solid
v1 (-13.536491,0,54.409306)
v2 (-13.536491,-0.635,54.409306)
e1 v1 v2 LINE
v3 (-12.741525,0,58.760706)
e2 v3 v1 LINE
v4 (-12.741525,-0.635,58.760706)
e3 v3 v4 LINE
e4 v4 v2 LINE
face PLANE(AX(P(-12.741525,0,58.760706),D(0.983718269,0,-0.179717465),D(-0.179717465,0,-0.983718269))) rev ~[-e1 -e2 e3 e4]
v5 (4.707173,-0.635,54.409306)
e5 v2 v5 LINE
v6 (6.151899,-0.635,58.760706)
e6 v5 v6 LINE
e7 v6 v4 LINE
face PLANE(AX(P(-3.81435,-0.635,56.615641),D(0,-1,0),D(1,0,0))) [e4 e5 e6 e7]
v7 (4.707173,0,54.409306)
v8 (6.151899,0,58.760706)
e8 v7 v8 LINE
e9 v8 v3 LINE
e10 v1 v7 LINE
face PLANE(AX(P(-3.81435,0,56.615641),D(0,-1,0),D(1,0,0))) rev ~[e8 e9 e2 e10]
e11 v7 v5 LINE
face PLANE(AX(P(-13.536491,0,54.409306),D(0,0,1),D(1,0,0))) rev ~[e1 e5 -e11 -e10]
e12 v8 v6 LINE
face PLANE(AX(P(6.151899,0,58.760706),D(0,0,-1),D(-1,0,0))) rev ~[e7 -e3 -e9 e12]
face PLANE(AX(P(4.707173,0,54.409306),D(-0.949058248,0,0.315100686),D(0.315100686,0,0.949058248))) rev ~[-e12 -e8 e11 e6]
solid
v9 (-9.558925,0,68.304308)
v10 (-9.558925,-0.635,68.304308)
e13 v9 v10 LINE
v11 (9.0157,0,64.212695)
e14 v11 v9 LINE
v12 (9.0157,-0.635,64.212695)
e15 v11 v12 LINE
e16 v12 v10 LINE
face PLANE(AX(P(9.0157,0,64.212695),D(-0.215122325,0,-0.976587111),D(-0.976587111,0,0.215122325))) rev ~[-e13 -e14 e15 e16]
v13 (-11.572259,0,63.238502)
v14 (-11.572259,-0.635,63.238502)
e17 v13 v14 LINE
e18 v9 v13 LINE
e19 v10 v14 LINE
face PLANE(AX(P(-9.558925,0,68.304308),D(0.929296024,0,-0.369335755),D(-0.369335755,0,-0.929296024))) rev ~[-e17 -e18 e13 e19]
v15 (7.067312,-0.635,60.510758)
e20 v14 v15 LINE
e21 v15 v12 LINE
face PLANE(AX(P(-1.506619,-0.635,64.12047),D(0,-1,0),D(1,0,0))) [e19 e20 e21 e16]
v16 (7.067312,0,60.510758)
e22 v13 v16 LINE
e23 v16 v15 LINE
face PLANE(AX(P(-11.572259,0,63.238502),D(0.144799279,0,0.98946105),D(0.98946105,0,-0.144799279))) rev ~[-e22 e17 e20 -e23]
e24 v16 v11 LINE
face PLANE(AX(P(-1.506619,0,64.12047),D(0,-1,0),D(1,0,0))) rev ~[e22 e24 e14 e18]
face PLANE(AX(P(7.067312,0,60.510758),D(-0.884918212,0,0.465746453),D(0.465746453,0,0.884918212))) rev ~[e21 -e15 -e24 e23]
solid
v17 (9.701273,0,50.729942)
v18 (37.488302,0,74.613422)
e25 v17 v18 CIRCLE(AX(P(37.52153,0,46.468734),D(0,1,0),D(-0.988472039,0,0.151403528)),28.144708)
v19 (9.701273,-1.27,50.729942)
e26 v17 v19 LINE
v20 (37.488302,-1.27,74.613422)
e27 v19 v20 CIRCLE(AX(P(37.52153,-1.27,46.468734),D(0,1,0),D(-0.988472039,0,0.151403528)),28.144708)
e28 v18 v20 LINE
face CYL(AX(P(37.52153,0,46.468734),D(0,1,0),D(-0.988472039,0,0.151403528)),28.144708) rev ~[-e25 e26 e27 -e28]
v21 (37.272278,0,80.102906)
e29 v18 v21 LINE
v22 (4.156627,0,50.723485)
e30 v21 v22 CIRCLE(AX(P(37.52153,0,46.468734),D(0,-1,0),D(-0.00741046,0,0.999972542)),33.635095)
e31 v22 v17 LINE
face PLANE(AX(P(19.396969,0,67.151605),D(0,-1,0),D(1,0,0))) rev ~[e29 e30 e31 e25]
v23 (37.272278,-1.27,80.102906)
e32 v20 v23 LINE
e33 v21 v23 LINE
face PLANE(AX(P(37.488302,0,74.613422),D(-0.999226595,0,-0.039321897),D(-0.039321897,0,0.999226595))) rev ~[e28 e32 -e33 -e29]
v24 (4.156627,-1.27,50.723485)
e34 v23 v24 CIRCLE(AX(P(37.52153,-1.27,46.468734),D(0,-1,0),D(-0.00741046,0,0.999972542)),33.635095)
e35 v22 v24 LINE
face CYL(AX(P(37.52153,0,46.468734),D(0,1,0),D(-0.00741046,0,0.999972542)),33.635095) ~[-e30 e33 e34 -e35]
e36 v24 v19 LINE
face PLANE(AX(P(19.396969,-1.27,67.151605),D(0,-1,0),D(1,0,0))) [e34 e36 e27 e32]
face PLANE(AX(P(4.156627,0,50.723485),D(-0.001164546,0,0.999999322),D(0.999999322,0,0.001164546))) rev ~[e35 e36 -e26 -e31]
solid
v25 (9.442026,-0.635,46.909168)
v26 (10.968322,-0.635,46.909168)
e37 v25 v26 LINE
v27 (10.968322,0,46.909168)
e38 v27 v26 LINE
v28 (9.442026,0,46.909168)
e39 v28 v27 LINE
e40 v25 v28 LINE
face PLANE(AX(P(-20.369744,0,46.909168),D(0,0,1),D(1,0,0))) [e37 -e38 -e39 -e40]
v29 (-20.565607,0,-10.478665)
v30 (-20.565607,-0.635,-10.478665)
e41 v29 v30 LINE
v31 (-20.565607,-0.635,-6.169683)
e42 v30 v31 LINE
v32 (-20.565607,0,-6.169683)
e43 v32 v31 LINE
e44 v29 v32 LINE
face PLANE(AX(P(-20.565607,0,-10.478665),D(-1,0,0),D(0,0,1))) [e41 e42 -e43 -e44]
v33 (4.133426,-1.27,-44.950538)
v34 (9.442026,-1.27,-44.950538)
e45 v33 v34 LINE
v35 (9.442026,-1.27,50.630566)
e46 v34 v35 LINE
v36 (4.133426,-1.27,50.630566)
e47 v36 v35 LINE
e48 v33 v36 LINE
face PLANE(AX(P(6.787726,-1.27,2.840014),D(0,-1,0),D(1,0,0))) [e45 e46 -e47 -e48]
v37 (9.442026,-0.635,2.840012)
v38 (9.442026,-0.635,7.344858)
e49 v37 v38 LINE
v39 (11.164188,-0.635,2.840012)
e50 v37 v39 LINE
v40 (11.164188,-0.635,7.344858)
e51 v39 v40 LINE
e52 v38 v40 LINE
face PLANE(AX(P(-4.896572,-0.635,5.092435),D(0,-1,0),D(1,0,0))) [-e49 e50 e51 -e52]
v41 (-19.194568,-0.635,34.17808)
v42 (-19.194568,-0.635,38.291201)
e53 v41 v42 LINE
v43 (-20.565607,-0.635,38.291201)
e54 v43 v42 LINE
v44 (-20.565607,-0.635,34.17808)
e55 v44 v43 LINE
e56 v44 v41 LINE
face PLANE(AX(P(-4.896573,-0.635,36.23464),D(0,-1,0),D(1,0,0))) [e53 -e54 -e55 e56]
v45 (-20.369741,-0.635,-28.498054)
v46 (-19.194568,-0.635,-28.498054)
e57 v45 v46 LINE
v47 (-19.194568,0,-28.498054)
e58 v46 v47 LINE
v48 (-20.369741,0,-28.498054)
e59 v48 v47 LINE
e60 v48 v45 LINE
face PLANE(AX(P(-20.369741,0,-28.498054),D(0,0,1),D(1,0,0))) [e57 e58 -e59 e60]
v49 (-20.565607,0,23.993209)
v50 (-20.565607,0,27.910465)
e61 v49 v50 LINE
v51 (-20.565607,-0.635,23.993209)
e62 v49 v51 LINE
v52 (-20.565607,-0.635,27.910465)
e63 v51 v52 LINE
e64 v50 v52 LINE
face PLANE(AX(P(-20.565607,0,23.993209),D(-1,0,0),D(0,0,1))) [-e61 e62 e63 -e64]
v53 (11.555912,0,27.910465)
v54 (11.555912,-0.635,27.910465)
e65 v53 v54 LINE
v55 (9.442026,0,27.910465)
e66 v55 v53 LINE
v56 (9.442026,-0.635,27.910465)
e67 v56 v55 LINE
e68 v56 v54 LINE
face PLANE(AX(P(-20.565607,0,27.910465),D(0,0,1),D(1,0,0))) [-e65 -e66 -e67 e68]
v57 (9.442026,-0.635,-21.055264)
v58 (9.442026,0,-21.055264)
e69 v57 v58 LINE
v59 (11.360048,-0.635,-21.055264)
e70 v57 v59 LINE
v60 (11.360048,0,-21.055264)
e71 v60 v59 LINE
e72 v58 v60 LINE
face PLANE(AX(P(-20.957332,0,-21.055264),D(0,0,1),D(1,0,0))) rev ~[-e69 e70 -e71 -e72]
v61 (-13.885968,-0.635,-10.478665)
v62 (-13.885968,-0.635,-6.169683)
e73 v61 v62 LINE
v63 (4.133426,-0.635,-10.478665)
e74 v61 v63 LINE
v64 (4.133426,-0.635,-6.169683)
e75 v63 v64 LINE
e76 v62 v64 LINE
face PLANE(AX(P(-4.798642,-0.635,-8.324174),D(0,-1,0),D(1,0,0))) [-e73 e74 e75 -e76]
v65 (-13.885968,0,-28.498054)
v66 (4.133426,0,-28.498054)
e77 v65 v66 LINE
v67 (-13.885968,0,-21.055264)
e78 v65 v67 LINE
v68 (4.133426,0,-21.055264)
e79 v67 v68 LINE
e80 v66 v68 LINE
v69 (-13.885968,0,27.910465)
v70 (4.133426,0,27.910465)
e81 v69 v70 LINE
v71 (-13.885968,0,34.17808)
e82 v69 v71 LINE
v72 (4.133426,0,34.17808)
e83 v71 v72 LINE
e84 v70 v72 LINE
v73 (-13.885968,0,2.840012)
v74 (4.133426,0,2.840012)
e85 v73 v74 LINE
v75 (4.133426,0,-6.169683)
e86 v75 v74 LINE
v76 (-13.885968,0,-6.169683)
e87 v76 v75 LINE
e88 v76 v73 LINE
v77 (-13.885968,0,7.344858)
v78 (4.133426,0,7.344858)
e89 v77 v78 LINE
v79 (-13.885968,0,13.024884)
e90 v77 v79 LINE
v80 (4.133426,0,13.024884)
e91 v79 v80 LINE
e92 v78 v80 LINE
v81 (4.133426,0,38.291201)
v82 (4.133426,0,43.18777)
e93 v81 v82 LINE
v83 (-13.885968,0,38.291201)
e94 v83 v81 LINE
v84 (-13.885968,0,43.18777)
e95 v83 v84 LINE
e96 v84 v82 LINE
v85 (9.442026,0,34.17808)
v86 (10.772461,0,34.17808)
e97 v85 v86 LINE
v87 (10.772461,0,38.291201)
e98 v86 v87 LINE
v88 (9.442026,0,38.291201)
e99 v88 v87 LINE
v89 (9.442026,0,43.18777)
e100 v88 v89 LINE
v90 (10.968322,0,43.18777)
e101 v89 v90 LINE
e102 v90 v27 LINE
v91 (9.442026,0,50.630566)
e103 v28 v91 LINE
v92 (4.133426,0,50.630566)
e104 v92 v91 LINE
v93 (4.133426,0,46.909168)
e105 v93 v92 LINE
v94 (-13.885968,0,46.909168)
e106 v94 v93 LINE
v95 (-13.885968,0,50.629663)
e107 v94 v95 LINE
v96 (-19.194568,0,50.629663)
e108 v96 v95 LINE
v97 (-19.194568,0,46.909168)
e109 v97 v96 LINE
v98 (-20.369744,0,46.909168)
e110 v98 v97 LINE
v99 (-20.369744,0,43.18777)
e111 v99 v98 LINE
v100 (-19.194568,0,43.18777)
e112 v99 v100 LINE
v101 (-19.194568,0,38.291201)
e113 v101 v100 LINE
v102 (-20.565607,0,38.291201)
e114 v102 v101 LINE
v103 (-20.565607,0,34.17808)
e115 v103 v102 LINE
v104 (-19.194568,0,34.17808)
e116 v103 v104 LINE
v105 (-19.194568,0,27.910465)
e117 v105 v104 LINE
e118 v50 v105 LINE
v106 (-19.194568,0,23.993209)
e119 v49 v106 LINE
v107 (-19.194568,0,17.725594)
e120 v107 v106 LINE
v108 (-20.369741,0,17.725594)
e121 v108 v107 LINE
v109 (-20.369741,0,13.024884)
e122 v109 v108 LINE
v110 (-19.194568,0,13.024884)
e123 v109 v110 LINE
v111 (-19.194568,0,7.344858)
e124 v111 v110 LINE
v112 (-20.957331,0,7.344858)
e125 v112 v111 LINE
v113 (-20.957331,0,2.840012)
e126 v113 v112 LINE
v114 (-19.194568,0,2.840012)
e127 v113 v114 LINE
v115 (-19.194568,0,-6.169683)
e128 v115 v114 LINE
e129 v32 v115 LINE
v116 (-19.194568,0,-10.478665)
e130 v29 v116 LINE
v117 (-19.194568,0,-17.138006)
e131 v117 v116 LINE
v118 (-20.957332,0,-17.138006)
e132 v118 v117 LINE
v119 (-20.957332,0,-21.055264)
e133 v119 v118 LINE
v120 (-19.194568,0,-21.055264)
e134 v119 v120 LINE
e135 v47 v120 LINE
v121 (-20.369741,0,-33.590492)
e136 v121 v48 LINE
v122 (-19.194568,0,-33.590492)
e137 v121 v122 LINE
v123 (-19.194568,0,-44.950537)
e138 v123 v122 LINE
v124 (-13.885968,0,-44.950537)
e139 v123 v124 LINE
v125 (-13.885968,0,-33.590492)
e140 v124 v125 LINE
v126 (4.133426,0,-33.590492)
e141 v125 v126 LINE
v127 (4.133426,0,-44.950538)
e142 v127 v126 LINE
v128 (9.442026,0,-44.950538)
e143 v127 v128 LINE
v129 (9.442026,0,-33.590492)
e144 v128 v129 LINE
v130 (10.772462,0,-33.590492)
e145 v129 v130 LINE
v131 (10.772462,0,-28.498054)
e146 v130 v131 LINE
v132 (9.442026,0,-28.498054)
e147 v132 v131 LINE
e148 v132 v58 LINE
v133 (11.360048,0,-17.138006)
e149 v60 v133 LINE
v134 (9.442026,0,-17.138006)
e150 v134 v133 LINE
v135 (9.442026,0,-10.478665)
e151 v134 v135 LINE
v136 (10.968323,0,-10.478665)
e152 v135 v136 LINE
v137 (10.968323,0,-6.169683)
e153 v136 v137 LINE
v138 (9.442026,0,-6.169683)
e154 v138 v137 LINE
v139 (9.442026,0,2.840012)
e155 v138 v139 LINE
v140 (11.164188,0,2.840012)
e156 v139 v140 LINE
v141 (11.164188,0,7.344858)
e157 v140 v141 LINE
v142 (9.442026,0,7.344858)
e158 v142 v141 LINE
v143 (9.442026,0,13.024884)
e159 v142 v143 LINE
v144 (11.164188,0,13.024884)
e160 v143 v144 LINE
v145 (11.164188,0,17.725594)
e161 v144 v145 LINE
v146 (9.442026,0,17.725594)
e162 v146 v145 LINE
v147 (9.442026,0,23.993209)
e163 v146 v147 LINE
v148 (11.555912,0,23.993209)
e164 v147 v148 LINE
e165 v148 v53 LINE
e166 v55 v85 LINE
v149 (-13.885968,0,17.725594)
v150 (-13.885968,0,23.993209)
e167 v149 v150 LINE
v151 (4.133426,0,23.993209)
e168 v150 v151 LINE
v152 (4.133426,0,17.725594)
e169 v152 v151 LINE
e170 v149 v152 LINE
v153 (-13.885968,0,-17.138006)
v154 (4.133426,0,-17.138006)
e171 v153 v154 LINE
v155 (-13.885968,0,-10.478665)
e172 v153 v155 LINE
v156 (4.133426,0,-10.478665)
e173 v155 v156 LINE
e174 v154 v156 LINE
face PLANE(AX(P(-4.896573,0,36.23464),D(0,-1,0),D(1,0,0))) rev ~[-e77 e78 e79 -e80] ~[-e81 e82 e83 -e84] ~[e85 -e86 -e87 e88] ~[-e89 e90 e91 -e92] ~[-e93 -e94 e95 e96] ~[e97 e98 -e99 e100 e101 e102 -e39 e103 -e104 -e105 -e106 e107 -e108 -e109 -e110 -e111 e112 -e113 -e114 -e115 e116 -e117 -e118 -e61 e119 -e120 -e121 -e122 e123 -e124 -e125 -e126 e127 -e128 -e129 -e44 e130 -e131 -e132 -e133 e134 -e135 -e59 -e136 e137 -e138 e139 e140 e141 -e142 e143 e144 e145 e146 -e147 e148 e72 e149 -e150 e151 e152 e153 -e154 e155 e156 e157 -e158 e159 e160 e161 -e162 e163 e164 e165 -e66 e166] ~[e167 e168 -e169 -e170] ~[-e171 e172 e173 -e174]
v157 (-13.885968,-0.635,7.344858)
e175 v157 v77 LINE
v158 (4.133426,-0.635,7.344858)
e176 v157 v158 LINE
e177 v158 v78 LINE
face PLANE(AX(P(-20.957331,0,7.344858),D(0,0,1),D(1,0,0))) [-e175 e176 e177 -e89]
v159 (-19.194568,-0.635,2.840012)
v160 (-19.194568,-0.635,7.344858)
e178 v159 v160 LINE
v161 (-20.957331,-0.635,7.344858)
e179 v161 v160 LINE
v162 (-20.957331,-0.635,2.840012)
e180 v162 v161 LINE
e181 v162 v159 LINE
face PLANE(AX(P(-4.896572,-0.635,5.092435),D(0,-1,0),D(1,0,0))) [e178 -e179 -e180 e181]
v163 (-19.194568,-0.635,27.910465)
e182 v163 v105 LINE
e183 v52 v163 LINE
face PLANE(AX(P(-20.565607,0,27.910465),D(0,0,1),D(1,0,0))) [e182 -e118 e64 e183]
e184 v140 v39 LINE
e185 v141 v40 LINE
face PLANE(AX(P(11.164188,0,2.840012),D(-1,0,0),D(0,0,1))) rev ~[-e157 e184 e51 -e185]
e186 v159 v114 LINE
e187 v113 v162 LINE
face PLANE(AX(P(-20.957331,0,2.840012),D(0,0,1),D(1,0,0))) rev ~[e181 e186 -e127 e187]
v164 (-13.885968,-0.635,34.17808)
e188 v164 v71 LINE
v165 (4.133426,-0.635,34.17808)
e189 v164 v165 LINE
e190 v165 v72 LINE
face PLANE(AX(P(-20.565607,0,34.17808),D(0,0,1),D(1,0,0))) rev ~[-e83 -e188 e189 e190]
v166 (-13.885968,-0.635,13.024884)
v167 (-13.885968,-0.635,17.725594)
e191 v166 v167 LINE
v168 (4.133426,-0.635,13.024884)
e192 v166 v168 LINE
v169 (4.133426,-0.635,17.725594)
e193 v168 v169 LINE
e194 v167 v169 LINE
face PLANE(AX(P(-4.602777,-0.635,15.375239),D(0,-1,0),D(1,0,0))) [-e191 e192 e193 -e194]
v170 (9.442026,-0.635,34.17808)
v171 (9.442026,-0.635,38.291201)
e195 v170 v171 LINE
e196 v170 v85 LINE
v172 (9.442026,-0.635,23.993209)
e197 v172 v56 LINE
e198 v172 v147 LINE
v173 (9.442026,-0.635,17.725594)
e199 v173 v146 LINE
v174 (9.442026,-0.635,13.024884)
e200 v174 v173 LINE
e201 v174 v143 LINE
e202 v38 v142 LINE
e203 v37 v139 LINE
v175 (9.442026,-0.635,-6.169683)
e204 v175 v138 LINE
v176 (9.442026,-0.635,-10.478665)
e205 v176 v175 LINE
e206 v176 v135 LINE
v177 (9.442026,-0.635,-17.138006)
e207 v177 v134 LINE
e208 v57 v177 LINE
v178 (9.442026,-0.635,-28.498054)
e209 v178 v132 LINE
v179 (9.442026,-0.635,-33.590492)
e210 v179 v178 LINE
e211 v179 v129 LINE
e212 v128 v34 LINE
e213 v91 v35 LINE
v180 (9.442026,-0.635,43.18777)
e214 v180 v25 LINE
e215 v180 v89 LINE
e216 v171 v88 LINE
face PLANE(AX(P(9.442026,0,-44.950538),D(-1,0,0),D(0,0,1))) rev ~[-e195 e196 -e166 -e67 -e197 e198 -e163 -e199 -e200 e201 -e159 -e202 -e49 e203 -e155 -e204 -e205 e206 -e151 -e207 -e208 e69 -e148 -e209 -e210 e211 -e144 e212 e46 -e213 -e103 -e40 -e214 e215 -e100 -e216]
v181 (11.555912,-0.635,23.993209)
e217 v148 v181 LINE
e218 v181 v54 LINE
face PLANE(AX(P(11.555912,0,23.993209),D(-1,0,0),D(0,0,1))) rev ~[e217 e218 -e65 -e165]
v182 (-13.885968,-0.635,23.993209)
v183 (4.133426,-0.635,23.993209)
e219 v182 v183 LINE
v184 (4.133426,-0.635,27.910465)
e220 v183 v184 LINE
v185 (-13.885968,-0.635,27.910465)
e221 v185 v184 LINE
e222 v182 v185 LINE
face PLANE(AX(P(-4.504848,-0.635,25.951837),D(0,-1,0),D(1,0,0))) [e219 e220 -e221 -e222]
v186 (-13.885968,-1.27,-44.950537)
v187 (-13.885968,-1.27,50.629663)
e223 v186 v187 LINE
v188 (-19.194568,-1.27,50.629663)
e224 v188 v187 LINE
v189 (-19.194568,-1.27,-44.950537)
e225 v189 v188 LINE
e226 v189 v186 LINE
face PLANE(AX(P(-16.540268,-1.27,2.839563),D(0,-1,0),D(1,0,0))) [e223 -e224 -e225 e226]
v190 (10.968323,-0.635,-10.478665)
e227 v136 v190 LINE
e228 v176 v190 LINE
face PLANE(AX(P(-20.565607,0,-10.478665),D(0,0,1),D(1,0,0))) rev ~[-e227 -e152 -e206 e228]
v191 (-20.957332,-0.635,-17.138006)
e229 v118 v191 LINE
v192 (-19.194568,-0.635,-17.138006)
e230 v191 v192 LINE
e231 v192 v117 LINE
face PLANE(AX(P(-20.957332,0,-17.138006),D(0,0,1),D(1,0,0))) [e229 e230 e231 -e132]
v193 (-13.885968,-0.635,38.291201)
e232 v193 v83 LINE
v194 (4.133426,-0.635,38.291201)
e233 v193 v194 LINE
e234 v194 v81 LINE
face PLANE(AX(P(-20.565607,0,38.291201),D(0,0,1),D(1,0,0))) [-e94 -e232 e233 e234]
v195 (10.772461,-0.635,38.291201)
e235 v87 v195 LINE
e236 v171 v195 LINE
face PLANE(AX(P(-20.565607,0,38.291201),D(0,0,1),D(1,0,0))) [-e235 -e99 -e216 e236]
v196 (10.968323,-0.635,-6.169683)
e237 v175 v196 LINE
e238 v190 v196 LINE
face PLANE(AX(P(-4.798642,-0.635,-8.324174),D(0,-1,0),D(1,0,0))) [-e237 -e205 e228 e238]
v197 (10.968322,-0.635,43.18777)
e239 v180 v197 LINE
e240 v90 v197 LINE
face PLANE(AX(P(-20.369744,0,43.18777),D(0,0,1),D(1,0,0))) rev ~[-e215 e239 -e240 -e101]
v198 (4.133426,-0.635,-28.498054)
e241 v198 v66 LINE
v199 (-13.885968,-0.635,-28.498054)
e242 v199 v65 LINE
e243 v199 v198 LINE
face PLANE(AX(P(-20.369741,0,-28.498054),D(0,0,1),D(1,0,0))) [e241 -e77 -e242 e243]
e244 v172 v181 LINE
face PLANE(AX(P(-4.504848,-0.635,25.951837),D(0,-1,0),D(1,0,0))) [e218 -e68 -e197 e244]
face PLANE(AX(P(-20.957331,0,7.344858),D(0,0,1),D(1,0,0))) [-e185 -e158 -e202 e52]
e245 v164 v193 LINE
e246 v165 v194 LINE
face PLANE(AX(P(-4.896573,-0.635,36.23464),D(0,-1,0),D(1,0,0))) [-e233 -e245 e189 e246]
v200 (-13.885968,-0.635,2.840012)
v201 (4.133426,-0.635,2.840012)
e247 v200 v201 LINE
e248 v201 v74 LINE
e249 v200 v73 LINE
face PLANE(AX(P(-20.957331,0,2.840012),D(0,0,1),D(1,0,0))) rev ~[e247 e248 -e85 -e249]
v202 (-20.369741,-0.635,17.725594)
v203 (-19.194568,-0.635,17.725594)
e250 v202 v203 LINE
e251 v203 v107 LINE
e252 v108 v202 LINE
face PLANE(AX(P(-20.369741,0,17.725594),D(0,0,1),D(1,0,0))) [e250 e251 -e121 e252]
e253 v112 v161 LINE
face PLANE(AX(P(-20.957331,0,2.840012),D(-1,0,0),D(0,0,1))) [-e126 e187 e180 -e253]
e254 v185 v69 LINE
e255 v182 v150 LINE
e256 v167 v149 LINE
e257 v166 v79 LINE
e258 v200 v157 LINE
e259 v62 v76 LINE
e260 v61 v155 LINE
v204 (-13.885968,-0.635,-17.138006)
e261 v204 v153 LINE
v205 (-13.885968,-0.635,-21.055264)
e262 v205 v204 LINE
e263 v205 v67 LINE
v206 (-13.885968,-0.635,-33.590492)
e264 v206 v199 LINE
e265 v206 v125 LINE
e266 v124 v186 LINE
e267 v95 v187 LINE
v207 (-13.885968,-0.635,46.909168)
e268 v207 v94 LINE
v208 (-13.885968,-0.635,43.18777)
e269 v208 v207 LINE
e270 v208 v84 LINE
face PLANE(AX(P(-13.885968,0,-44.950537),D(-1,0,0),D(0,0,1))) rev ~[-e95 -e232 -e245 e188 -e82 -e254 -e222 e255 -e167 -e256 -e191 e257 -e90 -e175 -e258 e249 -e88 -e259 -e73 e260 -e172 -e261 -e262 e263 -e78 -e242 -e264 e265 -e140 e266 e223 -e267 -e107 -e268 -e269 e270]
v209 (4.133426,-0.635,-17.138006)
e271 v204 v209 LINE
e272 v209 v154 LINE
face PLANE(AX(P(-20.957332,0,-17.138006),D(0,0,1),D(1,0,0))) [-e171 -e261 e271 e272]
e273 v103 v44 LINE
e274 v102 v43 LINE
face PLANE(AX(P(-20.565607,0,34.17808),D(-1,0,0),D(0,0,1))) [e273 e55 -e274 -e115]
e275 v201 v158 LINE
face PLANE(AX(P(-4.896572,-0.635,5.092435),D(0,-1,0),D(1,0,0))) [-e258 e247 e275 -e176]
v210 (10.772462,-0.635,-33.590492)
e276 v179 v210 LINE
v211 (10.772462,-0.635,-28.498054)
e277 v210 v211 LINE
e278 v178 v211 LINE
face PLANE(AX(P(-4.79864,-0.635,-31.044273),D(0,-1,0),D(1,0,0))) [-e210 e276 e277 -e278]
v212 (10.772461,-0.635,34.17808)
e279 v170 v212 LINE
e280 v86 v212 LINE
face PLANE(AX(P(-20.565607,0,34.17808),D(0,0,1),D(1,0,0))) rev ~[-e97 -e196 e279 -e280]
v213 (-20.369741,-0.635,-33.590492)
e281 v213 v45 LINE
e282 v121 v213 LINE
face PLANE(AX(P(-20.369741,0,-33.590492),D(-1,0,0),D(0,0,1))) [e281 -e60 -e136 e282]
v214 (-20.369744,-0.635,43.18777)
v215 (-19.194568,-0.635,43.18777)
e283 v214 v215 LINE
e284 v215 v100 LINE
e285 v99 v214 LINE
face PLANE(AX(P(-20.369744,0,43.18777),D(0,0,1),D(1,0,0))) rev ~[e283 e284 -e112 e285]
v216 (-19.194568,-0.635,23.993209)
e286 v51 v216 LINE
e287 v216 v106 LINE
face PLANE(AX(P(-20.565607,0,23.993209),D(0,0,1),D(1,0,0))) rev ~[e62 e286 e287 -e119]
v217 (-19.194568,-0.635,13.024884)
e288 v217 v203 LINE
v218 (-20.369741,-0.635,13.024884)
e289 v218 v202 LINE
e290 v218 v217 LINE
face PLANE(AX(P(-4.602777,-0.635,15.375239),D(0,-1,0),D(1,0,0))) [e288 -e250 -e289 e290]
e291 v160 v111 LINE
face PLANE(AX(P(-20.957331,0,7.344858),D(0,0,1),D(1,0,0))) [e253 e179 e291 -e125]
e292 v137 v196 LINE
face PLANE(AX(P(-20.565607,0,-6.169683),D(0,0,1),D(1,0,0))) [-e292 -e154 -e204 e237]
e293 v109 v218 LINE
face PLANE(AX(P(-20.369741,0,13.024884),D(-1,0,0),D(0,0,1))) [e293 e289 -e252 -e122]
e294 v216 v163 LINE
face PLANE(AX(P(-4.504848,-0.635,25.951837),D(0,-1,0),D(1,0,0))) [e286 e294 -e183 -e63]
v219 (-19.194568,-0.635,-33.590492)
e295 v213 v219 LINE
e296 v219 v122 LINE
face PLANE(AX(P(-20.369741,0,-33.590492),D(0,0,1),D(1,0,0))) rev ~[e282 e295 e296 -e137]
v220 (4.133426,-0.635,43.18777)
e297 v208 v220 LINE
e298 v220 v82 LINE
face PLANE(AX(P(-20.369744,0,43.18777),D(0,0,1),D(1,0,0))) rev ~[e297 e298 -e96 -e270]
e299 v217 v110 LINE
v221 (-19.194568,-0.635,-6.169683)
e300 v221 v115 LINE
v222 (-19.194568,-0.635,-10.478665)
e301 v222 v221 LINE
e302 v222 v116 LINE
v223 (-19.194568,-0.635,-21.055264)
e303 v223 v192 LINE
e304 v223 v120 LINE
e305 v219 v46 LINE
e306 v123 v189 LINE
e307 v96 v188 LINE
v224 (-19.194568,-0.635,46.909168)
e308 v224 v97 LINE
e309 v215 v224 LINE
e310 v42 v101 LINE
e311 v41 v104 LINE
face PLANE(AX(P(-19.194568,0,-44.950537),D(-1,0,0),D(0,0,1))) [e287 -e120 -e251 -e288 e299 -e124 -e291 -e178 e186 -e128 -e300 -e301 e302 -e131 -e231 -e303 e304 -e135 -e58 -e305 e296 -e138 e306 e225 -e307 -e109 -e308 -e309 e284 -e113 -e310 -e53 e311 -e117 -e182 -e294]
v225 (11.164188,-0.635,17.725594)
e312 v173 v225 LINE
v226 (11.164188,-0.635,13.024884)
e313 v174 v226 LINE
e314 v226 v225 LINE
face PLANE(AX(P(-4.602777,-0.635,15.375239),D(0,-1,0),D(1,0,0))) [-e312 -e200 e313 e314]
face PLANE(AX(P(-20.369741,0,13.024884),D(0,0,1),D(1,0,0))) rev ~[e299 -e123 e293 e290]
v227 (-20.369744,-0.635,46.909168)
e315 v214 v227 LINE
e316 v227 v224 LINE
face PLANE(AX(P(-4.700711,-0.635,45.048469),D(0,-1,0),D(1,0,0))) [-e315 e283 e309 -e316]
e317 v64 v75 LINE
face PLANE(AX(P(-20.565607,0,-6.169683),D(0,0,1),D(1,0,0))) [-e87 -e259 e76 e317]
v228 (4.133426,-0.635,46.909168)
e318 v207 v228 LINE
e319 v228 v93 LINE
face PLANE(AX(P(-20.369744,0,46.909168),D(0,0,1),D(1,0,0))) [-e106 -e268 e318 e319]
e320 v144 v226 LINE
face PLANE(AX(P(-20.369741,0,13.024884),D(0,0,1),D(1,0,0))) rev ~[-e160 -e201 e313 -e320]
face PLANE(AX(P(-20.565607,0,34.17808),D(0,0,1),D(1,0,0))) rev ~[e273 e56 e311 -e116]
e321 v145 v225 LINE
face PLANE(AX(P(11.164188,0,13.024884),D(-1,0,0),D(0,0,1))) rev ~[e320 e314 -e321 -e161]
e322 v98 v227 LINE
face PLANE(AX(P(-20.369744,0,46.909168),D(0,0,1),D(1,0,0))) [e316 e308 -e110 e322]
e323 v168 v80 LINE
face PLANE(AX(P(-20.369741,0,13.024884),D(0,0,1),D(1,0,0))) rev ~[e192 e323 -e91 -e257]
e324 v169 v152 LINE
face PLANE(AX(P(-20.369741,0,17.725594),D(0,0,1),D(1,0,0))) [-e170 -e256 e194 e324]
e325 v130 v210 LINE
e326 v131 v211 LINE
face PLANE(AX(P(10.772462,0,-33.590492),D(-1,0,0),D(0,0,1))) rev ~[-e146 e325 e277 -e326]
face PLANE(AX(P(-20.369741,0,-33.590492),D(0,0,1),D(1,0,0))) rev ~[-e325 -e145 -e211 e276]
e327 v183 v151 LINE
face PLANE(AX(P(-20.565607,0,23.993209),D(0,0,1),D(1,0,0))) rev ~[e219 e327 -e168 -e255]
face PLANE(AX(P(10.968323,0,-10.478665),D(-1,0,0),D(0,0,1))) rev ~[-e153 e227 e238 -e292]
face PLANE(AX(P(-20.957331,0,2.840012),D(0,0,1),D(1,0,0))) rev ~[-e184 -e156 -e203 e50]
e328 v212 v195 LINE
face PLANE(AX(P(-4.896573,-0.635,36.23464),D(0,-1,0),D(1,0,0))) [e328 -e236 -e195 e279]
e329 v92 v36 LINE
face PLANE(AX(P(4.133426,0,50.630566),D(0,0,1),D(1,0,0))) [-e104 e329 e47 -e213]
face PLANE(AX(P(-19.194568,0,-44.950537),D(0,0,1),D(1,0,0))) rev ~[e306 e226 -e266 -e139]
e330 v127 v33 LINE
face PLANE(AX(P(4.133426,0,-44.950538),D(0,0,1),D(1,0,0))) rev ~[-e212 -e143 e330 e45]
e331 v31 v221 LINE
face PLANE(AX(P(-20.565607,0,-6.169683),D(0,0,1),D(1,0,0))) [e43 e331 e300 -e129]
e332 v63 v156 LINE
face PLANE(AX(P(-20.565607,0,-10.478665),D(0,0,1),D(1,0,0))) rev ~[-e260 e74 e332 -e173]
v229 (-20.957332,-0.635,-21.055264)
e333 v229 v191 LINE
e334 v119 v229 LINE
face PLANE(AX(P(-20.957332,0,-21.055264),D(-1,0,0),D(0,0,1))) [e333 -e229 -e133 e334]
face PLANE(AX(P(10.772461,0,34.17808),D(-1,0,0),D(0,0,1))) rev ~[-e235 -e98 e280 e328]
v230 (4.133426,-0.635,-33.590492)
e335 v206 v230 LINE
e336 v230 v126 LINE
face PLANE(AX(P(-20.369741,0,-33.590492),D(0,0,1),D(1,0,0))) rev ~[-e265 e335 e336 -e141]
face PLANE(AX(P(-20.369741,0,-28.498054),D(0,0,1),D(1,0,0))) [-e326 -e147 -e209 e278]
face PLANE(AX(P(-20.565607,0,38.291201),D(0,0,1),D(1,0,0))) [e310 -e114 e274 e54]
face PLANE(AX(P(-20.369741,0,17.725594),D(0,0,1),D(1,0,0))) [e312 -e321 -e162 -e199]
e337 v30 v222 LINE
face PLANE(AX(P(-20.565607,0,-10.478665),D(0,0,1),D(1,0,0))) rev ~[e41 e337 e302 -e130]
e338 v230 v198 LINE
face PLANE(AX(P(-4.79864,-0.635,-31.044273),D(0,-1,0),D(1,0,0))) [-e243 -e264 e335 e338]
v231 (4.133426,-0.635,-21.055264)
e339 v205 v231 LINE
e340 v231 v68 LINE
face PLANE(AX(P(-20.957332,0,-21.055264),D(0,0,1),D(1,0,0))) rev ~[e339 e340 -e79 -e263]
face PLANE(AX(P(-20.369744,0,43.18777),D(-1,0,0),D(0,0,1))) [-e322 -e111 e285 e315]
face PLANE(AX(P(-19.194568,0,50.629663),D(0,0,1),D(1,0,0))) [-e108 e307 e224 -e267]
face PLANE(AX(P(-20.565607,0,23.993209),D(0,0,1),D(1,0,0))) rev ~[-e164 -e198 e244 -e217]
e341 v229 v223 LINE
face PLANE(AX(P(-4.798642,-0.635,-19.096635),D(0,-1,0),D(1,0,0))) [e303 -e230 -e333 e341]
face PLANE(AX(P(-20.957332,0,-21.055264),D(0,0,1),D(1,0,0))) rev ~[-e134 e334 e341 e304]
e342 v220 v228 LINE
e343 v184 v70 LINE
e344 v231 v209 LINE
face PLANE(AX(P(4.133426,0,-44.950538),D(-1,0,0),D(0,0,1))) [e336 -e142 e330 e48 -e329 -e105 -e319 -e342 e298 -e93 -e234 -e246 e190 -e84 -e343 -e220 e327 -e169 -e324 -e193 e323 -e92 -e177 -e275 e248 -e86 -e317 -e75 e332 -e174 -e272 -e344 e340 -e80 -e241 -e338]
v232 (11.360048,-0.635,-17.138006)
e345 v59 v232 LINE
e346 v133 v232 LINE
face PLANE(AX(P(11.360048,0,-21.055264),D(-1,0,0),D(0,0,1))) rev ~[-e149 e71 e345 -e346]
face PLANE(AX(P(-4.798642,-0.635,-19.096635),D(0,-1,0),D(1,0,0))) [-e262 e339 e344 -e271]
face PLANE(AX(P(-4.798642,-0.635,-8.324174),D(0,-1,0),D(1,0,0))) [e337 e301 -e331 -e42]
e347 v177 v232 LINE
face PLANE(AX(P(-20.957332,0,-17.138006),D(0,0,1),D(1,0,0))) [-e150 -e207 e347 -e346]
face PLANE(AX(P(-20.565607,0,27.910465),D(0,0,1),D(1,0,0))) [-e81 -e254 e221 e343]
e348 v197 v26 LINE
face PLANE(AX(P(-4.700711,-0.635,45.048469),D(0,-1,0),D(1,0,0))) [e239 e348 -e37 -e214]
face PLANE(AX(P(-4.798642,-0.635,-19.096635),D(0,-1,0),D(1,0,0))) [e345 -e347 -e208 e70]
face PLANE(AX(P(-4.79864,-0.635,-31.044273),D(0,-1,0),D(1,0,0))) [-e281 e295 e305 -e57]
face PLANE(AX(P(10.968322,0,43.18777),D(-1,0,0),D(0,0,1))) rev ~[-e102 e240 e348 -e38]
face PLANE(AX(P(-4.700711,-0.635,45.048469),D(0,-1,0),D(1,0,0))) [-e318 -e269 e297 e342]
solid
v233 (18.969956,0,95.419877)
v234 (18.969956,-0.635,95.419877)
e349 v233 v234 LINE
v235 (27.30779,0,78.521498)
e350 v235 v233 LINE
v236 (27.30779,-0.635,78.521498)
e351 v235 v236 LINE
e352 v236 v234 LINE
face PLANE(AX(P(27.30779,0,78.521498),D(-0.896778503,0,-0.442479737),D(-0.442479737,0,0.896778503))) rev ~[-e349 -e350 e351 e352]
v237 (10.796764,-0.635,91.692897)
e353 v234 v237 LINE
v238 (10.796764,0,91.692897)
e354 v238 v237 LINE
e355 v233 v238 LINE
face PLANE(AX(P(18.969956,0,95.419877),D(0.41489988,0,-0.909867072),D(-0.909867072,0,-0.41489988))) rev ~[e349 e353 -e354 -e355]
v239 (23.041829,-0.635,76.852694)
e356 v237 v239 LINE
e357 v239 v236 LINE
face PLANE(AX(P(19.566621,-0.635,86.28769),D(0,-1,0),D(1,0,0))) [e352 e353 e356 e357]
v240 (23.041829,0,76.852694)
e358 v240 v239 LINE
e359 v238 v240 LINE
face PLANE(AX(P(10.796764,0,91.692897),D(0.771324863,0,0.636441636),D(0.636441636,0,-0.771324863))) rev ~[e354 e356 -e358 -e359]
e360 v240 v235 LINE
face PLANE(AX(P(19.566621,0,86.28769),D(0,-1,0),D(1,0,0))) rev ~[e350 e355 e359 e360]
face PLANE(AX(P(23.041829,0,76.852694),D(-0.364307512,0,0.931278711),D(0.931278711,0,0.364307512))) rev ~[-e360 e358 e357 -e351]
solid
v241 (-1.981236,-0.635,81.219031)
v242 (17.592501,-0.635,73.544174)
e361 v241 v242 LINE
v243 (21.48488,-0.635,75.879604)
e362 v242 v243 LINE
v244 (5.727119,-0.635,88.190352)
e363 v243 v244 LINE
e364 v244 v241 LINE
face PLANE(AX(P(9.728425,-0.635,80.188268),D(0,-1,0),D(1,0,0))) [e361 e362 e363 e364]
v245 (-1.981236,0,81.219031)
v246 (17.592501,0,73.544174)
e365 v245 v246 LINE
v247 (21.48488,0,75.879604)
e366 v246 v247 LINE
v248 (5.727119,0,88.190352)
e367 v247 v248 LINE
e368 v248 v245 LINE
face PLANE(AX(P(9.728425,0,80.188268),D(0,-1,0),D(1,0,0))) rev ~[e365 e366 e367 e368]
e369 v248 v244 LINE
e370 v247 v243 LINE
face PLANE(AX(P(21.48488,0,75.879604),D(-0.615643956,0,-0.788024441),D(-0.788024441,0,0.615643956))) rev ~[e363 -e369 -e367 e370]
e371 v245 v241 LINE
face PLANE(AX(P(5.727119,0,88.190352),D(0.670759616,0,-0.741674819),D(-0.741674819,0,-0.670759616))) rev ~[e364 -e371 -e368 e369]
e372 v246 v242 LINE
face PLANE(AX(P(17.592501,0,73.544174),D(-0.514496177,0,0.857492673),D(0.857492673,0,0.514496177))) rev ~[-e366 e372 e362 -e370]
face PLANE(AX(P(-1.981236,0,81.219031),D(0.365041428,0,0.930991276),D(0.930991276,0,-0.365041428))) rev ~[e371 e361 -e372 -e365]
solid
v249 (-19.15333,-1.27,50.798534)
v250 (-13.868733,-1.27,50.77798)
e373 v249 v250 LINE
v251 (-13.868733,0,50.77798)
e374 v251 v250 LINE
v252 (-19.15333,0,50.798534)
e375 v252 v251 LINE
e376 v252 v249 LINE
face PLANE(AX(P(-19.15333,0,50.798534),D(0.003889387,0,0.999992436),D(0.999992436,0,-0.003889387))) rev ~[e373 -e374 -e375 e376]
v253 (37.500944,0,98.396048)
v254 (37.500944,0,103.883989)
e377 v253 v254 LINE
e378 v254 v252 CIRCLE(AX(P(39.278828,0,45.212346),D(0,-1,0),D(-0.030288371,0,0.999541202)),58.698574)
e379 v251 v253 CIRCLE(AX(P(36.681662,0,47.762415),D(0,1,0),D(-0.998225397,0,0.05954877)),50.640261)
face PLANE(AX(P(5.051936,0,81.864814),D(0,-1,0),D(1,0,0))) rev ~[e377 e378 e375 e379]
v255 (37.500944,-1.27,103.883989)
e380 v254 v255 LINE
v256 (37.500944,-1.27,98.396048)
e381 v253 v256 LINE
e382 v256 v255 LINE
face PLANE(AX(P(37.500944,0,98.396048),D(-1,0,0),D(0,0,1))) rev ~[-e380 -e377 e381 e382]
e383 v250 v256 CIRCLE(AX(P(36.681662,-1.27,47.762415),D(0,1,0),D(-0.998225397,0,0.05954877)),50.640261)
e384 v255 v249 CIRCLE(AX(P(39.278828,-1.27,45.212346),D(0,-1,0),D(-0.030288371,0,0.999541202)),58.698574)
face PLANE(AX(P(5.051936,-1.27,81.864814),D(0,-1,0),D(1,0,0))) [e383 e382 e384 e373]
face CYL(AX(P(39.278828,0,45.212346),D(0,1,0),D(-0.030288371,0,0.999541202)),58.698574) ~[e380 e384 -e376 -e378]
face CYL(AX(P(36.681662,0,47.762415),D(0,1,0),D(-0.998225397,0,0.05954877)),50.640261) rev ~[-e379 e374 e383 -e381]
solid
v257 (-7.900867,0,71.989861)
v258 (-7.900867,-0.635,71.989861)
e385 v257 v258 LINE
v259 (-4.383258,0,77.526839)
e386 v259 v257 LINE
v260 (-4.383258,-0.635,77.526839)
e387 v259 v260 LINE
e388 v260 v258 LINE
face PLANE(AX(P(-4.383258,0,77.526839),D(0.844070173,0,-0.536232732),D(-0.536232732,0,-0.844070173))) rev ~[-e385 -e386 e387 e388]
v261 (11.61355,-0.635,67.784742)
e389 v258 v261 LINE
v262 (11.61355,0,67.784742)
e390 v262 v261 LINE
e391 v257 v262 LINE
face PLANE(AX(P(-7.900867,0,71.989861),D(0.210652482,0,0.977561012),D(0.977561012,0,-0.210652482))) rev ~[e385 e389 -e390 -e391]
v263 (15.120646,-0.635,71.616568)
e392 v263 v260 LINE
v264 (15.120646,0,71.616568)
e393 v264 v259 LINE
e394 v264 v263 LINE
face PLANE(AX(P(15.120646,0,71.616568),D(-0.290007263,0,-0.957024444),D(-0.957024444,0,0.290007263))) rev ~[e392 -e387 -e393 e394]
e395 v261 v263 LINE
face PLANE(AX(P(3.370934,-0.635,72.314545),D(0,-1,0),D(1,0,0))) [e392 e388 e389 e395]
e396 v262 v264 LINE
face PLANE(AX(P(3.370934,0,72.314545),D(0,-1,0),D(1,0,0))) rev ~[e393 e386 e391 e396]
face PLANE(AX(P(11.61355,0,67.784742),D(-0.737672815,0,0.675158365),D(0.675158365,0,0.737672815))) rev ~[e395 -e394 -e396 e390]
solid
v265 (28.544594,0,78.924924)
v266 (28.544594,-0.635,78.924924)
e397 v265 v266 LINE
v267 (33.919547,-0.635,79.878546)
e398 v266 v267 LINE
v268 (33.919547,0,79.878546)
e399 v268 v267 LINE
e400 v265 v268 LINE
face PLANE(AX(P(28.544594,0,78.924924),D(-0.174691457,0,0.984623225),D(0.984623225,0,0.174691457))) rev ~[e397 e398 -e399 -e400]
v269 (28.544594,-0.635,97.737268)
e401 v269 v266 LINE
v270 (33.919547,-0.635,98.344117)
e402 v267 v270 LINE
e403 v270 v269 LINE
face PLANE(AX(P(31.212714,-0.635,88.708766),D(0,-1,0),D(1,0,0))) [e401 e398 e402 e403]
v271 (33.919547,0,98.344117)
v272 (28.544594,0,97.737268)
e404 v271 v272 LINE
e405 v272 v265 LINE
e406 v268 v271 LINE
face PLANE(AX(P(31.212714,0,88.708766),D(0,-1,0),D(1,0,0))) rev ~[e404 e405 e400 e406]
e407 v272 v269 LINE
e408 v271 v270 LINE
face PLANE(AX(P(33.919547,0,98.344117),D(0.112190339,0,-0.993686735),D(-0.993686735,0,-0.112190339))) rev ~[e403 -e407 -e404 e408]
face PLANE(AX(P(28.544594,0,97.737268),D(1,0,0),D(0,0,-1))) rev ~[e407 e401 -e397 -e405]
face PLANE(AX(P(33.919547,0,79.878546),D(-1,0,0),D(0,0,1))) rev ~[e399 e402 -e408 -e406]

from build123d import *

# Parameters (mm, degrees)
F0_W     = 5.3086
F0_H     = 95.581103
F0_H_2   = 95.5802
F1_DEPTH = 1.27
F2_W     = 31.338068
F2_H     = 4.113121
F2_W_2   = 32.121519
F2_H_2   = 3.917256
F2_W_3   = 31.533929
F2_H_3   = 4.70071
F2_H_4   = 4.504847
F2_W_4   = 31.53393
F2_H_5   = 4.308983
F2_W_5   = 32.31738
F2_H_6   = 3.917258
F2_W_6   = 31.142203
F2_H_7   = 5.092438
F2_W_7   = 31.338067
F2_H_8   = 3.721397
F3_DEPTH = 0.635
F7_DEPTH = 1.27
F8_DEPTH = 0.635


with BuildPart() as f1:
    # F0 (on Front) → F1 (new body)
    with BuildSketch(Plane.XZ):
        with Locations((6.787726, 2.840014)):
            Rectangle(F0_W, F0_H)
        with Locations((-16.540268, 2.839563)):
            Rectangle(F0_W, F0_H_2)
    extrude(amount=F1_DEPTH)

    # F2 (on Front) → F3 (join)
    with BuildSketch(Plane.XZ):
        with Locations((-4.896573, 36.23464)):
            Rectangle(F2_W, F2_H)
        with Locations((-4.504848, 25.951837)):
            Rectangle(F2_W_2, F2_H_2)
        with Locations((-4.602777, 15.375239)):
            Rectangle(F2_W_3, F2_H_3)
        with Locations((-4.896572, 5.092435)):
            Rectangle(F2_W_2, F2_H_4)
        with Locations((-4.798642, -8.324174)):
            Rectangle(F2_W_4, F2_H_5)
        with Locations((-4.798642, -19.096635)):
            Rectangle(F2_W_5, F2_H_6)
        with Locations((-4.79864, -31.044273)):
            Rectangle(F2_W_6, F2_H_7)
        with Locations((-4.700711, 45.048469)):
            Rectangle(F2_W_7, F2_H_8)
    extrude(amount=F3_DEPTH)


with BuildPart() as f7:
    # F4 (on Front) + F5 (on Front) → F7 (new body)
    with BuildSketch(Plane.XZ):
        with BuildLine():
            ThreePointArc((9.701273, 50.729942), (19.175977, 67.812709), (37.488302, 74.613422))
            Line((37.488302, 74.613422), (37.272278, 80.102906))
            ThreePointArc((37.272278, 80.102906), (15.19967, 71.629303), (4.156627, 50.723485))
            Line((4.156627, 50.723485), (9.701273, 50.729942))
        make_face()
    with BuildSketch(Plane.XZ):
        with BuildLine():
            ThreePointArc((-13.868733, 50.77798), (2.255422, 84.90094), (37.500944, 98.396048))
            Line((37.500944, 98.396048), (37.500944, 103.883989))
            ThreePointArc((37.500944, 103.883989), (-0.856302, 88.045673), (-19.15333, 50.798534))
            Line((-19.15333, 50.798534), (-13.868733, 50.77798))
        make_face()
    extrude(amount=F7_DEPTH)


with BuildPart() as f8:
    # F6 (on Front) → F8 (new body)
    with BuildSketch(Plane.XZ):
        Polygon((-12.741525, 58.760706), (-13.536491, 54.409306), (4.707173, 54.409306), (6.151899, 58.760706), align=None)
        Polygon((33.919547, 79.878546), (33.919547, 98.344117), (28.544594, 97.737268), (28.544594, 78.924924), align=None)
        Polygon((5.727119, 88.190352), (-1.981236, 81.219031), (17.592501, 73.544174), (21.48488, 75.879604), align=None)
        Polygon((18.969956, 95.419877), (10.796764, 91.692897), (23.041829, 76.852694), (27.30779, 78.521498), align=None)
        Polygon((-4.383258, 77.526839), (-7.900867, 71.989861), (11.61355, 67.784742), (15.120646, 71.616568), align=None)
        Polygon((9.0157, 64.212695), (-9.558925, 68.304308), (-11.572259, 63.238502), (7.067312, 60.510758), align=None)
    extrude(amount=F8_DEPTH)


solid = Compound([f1.part, f7.part, f8.part])
